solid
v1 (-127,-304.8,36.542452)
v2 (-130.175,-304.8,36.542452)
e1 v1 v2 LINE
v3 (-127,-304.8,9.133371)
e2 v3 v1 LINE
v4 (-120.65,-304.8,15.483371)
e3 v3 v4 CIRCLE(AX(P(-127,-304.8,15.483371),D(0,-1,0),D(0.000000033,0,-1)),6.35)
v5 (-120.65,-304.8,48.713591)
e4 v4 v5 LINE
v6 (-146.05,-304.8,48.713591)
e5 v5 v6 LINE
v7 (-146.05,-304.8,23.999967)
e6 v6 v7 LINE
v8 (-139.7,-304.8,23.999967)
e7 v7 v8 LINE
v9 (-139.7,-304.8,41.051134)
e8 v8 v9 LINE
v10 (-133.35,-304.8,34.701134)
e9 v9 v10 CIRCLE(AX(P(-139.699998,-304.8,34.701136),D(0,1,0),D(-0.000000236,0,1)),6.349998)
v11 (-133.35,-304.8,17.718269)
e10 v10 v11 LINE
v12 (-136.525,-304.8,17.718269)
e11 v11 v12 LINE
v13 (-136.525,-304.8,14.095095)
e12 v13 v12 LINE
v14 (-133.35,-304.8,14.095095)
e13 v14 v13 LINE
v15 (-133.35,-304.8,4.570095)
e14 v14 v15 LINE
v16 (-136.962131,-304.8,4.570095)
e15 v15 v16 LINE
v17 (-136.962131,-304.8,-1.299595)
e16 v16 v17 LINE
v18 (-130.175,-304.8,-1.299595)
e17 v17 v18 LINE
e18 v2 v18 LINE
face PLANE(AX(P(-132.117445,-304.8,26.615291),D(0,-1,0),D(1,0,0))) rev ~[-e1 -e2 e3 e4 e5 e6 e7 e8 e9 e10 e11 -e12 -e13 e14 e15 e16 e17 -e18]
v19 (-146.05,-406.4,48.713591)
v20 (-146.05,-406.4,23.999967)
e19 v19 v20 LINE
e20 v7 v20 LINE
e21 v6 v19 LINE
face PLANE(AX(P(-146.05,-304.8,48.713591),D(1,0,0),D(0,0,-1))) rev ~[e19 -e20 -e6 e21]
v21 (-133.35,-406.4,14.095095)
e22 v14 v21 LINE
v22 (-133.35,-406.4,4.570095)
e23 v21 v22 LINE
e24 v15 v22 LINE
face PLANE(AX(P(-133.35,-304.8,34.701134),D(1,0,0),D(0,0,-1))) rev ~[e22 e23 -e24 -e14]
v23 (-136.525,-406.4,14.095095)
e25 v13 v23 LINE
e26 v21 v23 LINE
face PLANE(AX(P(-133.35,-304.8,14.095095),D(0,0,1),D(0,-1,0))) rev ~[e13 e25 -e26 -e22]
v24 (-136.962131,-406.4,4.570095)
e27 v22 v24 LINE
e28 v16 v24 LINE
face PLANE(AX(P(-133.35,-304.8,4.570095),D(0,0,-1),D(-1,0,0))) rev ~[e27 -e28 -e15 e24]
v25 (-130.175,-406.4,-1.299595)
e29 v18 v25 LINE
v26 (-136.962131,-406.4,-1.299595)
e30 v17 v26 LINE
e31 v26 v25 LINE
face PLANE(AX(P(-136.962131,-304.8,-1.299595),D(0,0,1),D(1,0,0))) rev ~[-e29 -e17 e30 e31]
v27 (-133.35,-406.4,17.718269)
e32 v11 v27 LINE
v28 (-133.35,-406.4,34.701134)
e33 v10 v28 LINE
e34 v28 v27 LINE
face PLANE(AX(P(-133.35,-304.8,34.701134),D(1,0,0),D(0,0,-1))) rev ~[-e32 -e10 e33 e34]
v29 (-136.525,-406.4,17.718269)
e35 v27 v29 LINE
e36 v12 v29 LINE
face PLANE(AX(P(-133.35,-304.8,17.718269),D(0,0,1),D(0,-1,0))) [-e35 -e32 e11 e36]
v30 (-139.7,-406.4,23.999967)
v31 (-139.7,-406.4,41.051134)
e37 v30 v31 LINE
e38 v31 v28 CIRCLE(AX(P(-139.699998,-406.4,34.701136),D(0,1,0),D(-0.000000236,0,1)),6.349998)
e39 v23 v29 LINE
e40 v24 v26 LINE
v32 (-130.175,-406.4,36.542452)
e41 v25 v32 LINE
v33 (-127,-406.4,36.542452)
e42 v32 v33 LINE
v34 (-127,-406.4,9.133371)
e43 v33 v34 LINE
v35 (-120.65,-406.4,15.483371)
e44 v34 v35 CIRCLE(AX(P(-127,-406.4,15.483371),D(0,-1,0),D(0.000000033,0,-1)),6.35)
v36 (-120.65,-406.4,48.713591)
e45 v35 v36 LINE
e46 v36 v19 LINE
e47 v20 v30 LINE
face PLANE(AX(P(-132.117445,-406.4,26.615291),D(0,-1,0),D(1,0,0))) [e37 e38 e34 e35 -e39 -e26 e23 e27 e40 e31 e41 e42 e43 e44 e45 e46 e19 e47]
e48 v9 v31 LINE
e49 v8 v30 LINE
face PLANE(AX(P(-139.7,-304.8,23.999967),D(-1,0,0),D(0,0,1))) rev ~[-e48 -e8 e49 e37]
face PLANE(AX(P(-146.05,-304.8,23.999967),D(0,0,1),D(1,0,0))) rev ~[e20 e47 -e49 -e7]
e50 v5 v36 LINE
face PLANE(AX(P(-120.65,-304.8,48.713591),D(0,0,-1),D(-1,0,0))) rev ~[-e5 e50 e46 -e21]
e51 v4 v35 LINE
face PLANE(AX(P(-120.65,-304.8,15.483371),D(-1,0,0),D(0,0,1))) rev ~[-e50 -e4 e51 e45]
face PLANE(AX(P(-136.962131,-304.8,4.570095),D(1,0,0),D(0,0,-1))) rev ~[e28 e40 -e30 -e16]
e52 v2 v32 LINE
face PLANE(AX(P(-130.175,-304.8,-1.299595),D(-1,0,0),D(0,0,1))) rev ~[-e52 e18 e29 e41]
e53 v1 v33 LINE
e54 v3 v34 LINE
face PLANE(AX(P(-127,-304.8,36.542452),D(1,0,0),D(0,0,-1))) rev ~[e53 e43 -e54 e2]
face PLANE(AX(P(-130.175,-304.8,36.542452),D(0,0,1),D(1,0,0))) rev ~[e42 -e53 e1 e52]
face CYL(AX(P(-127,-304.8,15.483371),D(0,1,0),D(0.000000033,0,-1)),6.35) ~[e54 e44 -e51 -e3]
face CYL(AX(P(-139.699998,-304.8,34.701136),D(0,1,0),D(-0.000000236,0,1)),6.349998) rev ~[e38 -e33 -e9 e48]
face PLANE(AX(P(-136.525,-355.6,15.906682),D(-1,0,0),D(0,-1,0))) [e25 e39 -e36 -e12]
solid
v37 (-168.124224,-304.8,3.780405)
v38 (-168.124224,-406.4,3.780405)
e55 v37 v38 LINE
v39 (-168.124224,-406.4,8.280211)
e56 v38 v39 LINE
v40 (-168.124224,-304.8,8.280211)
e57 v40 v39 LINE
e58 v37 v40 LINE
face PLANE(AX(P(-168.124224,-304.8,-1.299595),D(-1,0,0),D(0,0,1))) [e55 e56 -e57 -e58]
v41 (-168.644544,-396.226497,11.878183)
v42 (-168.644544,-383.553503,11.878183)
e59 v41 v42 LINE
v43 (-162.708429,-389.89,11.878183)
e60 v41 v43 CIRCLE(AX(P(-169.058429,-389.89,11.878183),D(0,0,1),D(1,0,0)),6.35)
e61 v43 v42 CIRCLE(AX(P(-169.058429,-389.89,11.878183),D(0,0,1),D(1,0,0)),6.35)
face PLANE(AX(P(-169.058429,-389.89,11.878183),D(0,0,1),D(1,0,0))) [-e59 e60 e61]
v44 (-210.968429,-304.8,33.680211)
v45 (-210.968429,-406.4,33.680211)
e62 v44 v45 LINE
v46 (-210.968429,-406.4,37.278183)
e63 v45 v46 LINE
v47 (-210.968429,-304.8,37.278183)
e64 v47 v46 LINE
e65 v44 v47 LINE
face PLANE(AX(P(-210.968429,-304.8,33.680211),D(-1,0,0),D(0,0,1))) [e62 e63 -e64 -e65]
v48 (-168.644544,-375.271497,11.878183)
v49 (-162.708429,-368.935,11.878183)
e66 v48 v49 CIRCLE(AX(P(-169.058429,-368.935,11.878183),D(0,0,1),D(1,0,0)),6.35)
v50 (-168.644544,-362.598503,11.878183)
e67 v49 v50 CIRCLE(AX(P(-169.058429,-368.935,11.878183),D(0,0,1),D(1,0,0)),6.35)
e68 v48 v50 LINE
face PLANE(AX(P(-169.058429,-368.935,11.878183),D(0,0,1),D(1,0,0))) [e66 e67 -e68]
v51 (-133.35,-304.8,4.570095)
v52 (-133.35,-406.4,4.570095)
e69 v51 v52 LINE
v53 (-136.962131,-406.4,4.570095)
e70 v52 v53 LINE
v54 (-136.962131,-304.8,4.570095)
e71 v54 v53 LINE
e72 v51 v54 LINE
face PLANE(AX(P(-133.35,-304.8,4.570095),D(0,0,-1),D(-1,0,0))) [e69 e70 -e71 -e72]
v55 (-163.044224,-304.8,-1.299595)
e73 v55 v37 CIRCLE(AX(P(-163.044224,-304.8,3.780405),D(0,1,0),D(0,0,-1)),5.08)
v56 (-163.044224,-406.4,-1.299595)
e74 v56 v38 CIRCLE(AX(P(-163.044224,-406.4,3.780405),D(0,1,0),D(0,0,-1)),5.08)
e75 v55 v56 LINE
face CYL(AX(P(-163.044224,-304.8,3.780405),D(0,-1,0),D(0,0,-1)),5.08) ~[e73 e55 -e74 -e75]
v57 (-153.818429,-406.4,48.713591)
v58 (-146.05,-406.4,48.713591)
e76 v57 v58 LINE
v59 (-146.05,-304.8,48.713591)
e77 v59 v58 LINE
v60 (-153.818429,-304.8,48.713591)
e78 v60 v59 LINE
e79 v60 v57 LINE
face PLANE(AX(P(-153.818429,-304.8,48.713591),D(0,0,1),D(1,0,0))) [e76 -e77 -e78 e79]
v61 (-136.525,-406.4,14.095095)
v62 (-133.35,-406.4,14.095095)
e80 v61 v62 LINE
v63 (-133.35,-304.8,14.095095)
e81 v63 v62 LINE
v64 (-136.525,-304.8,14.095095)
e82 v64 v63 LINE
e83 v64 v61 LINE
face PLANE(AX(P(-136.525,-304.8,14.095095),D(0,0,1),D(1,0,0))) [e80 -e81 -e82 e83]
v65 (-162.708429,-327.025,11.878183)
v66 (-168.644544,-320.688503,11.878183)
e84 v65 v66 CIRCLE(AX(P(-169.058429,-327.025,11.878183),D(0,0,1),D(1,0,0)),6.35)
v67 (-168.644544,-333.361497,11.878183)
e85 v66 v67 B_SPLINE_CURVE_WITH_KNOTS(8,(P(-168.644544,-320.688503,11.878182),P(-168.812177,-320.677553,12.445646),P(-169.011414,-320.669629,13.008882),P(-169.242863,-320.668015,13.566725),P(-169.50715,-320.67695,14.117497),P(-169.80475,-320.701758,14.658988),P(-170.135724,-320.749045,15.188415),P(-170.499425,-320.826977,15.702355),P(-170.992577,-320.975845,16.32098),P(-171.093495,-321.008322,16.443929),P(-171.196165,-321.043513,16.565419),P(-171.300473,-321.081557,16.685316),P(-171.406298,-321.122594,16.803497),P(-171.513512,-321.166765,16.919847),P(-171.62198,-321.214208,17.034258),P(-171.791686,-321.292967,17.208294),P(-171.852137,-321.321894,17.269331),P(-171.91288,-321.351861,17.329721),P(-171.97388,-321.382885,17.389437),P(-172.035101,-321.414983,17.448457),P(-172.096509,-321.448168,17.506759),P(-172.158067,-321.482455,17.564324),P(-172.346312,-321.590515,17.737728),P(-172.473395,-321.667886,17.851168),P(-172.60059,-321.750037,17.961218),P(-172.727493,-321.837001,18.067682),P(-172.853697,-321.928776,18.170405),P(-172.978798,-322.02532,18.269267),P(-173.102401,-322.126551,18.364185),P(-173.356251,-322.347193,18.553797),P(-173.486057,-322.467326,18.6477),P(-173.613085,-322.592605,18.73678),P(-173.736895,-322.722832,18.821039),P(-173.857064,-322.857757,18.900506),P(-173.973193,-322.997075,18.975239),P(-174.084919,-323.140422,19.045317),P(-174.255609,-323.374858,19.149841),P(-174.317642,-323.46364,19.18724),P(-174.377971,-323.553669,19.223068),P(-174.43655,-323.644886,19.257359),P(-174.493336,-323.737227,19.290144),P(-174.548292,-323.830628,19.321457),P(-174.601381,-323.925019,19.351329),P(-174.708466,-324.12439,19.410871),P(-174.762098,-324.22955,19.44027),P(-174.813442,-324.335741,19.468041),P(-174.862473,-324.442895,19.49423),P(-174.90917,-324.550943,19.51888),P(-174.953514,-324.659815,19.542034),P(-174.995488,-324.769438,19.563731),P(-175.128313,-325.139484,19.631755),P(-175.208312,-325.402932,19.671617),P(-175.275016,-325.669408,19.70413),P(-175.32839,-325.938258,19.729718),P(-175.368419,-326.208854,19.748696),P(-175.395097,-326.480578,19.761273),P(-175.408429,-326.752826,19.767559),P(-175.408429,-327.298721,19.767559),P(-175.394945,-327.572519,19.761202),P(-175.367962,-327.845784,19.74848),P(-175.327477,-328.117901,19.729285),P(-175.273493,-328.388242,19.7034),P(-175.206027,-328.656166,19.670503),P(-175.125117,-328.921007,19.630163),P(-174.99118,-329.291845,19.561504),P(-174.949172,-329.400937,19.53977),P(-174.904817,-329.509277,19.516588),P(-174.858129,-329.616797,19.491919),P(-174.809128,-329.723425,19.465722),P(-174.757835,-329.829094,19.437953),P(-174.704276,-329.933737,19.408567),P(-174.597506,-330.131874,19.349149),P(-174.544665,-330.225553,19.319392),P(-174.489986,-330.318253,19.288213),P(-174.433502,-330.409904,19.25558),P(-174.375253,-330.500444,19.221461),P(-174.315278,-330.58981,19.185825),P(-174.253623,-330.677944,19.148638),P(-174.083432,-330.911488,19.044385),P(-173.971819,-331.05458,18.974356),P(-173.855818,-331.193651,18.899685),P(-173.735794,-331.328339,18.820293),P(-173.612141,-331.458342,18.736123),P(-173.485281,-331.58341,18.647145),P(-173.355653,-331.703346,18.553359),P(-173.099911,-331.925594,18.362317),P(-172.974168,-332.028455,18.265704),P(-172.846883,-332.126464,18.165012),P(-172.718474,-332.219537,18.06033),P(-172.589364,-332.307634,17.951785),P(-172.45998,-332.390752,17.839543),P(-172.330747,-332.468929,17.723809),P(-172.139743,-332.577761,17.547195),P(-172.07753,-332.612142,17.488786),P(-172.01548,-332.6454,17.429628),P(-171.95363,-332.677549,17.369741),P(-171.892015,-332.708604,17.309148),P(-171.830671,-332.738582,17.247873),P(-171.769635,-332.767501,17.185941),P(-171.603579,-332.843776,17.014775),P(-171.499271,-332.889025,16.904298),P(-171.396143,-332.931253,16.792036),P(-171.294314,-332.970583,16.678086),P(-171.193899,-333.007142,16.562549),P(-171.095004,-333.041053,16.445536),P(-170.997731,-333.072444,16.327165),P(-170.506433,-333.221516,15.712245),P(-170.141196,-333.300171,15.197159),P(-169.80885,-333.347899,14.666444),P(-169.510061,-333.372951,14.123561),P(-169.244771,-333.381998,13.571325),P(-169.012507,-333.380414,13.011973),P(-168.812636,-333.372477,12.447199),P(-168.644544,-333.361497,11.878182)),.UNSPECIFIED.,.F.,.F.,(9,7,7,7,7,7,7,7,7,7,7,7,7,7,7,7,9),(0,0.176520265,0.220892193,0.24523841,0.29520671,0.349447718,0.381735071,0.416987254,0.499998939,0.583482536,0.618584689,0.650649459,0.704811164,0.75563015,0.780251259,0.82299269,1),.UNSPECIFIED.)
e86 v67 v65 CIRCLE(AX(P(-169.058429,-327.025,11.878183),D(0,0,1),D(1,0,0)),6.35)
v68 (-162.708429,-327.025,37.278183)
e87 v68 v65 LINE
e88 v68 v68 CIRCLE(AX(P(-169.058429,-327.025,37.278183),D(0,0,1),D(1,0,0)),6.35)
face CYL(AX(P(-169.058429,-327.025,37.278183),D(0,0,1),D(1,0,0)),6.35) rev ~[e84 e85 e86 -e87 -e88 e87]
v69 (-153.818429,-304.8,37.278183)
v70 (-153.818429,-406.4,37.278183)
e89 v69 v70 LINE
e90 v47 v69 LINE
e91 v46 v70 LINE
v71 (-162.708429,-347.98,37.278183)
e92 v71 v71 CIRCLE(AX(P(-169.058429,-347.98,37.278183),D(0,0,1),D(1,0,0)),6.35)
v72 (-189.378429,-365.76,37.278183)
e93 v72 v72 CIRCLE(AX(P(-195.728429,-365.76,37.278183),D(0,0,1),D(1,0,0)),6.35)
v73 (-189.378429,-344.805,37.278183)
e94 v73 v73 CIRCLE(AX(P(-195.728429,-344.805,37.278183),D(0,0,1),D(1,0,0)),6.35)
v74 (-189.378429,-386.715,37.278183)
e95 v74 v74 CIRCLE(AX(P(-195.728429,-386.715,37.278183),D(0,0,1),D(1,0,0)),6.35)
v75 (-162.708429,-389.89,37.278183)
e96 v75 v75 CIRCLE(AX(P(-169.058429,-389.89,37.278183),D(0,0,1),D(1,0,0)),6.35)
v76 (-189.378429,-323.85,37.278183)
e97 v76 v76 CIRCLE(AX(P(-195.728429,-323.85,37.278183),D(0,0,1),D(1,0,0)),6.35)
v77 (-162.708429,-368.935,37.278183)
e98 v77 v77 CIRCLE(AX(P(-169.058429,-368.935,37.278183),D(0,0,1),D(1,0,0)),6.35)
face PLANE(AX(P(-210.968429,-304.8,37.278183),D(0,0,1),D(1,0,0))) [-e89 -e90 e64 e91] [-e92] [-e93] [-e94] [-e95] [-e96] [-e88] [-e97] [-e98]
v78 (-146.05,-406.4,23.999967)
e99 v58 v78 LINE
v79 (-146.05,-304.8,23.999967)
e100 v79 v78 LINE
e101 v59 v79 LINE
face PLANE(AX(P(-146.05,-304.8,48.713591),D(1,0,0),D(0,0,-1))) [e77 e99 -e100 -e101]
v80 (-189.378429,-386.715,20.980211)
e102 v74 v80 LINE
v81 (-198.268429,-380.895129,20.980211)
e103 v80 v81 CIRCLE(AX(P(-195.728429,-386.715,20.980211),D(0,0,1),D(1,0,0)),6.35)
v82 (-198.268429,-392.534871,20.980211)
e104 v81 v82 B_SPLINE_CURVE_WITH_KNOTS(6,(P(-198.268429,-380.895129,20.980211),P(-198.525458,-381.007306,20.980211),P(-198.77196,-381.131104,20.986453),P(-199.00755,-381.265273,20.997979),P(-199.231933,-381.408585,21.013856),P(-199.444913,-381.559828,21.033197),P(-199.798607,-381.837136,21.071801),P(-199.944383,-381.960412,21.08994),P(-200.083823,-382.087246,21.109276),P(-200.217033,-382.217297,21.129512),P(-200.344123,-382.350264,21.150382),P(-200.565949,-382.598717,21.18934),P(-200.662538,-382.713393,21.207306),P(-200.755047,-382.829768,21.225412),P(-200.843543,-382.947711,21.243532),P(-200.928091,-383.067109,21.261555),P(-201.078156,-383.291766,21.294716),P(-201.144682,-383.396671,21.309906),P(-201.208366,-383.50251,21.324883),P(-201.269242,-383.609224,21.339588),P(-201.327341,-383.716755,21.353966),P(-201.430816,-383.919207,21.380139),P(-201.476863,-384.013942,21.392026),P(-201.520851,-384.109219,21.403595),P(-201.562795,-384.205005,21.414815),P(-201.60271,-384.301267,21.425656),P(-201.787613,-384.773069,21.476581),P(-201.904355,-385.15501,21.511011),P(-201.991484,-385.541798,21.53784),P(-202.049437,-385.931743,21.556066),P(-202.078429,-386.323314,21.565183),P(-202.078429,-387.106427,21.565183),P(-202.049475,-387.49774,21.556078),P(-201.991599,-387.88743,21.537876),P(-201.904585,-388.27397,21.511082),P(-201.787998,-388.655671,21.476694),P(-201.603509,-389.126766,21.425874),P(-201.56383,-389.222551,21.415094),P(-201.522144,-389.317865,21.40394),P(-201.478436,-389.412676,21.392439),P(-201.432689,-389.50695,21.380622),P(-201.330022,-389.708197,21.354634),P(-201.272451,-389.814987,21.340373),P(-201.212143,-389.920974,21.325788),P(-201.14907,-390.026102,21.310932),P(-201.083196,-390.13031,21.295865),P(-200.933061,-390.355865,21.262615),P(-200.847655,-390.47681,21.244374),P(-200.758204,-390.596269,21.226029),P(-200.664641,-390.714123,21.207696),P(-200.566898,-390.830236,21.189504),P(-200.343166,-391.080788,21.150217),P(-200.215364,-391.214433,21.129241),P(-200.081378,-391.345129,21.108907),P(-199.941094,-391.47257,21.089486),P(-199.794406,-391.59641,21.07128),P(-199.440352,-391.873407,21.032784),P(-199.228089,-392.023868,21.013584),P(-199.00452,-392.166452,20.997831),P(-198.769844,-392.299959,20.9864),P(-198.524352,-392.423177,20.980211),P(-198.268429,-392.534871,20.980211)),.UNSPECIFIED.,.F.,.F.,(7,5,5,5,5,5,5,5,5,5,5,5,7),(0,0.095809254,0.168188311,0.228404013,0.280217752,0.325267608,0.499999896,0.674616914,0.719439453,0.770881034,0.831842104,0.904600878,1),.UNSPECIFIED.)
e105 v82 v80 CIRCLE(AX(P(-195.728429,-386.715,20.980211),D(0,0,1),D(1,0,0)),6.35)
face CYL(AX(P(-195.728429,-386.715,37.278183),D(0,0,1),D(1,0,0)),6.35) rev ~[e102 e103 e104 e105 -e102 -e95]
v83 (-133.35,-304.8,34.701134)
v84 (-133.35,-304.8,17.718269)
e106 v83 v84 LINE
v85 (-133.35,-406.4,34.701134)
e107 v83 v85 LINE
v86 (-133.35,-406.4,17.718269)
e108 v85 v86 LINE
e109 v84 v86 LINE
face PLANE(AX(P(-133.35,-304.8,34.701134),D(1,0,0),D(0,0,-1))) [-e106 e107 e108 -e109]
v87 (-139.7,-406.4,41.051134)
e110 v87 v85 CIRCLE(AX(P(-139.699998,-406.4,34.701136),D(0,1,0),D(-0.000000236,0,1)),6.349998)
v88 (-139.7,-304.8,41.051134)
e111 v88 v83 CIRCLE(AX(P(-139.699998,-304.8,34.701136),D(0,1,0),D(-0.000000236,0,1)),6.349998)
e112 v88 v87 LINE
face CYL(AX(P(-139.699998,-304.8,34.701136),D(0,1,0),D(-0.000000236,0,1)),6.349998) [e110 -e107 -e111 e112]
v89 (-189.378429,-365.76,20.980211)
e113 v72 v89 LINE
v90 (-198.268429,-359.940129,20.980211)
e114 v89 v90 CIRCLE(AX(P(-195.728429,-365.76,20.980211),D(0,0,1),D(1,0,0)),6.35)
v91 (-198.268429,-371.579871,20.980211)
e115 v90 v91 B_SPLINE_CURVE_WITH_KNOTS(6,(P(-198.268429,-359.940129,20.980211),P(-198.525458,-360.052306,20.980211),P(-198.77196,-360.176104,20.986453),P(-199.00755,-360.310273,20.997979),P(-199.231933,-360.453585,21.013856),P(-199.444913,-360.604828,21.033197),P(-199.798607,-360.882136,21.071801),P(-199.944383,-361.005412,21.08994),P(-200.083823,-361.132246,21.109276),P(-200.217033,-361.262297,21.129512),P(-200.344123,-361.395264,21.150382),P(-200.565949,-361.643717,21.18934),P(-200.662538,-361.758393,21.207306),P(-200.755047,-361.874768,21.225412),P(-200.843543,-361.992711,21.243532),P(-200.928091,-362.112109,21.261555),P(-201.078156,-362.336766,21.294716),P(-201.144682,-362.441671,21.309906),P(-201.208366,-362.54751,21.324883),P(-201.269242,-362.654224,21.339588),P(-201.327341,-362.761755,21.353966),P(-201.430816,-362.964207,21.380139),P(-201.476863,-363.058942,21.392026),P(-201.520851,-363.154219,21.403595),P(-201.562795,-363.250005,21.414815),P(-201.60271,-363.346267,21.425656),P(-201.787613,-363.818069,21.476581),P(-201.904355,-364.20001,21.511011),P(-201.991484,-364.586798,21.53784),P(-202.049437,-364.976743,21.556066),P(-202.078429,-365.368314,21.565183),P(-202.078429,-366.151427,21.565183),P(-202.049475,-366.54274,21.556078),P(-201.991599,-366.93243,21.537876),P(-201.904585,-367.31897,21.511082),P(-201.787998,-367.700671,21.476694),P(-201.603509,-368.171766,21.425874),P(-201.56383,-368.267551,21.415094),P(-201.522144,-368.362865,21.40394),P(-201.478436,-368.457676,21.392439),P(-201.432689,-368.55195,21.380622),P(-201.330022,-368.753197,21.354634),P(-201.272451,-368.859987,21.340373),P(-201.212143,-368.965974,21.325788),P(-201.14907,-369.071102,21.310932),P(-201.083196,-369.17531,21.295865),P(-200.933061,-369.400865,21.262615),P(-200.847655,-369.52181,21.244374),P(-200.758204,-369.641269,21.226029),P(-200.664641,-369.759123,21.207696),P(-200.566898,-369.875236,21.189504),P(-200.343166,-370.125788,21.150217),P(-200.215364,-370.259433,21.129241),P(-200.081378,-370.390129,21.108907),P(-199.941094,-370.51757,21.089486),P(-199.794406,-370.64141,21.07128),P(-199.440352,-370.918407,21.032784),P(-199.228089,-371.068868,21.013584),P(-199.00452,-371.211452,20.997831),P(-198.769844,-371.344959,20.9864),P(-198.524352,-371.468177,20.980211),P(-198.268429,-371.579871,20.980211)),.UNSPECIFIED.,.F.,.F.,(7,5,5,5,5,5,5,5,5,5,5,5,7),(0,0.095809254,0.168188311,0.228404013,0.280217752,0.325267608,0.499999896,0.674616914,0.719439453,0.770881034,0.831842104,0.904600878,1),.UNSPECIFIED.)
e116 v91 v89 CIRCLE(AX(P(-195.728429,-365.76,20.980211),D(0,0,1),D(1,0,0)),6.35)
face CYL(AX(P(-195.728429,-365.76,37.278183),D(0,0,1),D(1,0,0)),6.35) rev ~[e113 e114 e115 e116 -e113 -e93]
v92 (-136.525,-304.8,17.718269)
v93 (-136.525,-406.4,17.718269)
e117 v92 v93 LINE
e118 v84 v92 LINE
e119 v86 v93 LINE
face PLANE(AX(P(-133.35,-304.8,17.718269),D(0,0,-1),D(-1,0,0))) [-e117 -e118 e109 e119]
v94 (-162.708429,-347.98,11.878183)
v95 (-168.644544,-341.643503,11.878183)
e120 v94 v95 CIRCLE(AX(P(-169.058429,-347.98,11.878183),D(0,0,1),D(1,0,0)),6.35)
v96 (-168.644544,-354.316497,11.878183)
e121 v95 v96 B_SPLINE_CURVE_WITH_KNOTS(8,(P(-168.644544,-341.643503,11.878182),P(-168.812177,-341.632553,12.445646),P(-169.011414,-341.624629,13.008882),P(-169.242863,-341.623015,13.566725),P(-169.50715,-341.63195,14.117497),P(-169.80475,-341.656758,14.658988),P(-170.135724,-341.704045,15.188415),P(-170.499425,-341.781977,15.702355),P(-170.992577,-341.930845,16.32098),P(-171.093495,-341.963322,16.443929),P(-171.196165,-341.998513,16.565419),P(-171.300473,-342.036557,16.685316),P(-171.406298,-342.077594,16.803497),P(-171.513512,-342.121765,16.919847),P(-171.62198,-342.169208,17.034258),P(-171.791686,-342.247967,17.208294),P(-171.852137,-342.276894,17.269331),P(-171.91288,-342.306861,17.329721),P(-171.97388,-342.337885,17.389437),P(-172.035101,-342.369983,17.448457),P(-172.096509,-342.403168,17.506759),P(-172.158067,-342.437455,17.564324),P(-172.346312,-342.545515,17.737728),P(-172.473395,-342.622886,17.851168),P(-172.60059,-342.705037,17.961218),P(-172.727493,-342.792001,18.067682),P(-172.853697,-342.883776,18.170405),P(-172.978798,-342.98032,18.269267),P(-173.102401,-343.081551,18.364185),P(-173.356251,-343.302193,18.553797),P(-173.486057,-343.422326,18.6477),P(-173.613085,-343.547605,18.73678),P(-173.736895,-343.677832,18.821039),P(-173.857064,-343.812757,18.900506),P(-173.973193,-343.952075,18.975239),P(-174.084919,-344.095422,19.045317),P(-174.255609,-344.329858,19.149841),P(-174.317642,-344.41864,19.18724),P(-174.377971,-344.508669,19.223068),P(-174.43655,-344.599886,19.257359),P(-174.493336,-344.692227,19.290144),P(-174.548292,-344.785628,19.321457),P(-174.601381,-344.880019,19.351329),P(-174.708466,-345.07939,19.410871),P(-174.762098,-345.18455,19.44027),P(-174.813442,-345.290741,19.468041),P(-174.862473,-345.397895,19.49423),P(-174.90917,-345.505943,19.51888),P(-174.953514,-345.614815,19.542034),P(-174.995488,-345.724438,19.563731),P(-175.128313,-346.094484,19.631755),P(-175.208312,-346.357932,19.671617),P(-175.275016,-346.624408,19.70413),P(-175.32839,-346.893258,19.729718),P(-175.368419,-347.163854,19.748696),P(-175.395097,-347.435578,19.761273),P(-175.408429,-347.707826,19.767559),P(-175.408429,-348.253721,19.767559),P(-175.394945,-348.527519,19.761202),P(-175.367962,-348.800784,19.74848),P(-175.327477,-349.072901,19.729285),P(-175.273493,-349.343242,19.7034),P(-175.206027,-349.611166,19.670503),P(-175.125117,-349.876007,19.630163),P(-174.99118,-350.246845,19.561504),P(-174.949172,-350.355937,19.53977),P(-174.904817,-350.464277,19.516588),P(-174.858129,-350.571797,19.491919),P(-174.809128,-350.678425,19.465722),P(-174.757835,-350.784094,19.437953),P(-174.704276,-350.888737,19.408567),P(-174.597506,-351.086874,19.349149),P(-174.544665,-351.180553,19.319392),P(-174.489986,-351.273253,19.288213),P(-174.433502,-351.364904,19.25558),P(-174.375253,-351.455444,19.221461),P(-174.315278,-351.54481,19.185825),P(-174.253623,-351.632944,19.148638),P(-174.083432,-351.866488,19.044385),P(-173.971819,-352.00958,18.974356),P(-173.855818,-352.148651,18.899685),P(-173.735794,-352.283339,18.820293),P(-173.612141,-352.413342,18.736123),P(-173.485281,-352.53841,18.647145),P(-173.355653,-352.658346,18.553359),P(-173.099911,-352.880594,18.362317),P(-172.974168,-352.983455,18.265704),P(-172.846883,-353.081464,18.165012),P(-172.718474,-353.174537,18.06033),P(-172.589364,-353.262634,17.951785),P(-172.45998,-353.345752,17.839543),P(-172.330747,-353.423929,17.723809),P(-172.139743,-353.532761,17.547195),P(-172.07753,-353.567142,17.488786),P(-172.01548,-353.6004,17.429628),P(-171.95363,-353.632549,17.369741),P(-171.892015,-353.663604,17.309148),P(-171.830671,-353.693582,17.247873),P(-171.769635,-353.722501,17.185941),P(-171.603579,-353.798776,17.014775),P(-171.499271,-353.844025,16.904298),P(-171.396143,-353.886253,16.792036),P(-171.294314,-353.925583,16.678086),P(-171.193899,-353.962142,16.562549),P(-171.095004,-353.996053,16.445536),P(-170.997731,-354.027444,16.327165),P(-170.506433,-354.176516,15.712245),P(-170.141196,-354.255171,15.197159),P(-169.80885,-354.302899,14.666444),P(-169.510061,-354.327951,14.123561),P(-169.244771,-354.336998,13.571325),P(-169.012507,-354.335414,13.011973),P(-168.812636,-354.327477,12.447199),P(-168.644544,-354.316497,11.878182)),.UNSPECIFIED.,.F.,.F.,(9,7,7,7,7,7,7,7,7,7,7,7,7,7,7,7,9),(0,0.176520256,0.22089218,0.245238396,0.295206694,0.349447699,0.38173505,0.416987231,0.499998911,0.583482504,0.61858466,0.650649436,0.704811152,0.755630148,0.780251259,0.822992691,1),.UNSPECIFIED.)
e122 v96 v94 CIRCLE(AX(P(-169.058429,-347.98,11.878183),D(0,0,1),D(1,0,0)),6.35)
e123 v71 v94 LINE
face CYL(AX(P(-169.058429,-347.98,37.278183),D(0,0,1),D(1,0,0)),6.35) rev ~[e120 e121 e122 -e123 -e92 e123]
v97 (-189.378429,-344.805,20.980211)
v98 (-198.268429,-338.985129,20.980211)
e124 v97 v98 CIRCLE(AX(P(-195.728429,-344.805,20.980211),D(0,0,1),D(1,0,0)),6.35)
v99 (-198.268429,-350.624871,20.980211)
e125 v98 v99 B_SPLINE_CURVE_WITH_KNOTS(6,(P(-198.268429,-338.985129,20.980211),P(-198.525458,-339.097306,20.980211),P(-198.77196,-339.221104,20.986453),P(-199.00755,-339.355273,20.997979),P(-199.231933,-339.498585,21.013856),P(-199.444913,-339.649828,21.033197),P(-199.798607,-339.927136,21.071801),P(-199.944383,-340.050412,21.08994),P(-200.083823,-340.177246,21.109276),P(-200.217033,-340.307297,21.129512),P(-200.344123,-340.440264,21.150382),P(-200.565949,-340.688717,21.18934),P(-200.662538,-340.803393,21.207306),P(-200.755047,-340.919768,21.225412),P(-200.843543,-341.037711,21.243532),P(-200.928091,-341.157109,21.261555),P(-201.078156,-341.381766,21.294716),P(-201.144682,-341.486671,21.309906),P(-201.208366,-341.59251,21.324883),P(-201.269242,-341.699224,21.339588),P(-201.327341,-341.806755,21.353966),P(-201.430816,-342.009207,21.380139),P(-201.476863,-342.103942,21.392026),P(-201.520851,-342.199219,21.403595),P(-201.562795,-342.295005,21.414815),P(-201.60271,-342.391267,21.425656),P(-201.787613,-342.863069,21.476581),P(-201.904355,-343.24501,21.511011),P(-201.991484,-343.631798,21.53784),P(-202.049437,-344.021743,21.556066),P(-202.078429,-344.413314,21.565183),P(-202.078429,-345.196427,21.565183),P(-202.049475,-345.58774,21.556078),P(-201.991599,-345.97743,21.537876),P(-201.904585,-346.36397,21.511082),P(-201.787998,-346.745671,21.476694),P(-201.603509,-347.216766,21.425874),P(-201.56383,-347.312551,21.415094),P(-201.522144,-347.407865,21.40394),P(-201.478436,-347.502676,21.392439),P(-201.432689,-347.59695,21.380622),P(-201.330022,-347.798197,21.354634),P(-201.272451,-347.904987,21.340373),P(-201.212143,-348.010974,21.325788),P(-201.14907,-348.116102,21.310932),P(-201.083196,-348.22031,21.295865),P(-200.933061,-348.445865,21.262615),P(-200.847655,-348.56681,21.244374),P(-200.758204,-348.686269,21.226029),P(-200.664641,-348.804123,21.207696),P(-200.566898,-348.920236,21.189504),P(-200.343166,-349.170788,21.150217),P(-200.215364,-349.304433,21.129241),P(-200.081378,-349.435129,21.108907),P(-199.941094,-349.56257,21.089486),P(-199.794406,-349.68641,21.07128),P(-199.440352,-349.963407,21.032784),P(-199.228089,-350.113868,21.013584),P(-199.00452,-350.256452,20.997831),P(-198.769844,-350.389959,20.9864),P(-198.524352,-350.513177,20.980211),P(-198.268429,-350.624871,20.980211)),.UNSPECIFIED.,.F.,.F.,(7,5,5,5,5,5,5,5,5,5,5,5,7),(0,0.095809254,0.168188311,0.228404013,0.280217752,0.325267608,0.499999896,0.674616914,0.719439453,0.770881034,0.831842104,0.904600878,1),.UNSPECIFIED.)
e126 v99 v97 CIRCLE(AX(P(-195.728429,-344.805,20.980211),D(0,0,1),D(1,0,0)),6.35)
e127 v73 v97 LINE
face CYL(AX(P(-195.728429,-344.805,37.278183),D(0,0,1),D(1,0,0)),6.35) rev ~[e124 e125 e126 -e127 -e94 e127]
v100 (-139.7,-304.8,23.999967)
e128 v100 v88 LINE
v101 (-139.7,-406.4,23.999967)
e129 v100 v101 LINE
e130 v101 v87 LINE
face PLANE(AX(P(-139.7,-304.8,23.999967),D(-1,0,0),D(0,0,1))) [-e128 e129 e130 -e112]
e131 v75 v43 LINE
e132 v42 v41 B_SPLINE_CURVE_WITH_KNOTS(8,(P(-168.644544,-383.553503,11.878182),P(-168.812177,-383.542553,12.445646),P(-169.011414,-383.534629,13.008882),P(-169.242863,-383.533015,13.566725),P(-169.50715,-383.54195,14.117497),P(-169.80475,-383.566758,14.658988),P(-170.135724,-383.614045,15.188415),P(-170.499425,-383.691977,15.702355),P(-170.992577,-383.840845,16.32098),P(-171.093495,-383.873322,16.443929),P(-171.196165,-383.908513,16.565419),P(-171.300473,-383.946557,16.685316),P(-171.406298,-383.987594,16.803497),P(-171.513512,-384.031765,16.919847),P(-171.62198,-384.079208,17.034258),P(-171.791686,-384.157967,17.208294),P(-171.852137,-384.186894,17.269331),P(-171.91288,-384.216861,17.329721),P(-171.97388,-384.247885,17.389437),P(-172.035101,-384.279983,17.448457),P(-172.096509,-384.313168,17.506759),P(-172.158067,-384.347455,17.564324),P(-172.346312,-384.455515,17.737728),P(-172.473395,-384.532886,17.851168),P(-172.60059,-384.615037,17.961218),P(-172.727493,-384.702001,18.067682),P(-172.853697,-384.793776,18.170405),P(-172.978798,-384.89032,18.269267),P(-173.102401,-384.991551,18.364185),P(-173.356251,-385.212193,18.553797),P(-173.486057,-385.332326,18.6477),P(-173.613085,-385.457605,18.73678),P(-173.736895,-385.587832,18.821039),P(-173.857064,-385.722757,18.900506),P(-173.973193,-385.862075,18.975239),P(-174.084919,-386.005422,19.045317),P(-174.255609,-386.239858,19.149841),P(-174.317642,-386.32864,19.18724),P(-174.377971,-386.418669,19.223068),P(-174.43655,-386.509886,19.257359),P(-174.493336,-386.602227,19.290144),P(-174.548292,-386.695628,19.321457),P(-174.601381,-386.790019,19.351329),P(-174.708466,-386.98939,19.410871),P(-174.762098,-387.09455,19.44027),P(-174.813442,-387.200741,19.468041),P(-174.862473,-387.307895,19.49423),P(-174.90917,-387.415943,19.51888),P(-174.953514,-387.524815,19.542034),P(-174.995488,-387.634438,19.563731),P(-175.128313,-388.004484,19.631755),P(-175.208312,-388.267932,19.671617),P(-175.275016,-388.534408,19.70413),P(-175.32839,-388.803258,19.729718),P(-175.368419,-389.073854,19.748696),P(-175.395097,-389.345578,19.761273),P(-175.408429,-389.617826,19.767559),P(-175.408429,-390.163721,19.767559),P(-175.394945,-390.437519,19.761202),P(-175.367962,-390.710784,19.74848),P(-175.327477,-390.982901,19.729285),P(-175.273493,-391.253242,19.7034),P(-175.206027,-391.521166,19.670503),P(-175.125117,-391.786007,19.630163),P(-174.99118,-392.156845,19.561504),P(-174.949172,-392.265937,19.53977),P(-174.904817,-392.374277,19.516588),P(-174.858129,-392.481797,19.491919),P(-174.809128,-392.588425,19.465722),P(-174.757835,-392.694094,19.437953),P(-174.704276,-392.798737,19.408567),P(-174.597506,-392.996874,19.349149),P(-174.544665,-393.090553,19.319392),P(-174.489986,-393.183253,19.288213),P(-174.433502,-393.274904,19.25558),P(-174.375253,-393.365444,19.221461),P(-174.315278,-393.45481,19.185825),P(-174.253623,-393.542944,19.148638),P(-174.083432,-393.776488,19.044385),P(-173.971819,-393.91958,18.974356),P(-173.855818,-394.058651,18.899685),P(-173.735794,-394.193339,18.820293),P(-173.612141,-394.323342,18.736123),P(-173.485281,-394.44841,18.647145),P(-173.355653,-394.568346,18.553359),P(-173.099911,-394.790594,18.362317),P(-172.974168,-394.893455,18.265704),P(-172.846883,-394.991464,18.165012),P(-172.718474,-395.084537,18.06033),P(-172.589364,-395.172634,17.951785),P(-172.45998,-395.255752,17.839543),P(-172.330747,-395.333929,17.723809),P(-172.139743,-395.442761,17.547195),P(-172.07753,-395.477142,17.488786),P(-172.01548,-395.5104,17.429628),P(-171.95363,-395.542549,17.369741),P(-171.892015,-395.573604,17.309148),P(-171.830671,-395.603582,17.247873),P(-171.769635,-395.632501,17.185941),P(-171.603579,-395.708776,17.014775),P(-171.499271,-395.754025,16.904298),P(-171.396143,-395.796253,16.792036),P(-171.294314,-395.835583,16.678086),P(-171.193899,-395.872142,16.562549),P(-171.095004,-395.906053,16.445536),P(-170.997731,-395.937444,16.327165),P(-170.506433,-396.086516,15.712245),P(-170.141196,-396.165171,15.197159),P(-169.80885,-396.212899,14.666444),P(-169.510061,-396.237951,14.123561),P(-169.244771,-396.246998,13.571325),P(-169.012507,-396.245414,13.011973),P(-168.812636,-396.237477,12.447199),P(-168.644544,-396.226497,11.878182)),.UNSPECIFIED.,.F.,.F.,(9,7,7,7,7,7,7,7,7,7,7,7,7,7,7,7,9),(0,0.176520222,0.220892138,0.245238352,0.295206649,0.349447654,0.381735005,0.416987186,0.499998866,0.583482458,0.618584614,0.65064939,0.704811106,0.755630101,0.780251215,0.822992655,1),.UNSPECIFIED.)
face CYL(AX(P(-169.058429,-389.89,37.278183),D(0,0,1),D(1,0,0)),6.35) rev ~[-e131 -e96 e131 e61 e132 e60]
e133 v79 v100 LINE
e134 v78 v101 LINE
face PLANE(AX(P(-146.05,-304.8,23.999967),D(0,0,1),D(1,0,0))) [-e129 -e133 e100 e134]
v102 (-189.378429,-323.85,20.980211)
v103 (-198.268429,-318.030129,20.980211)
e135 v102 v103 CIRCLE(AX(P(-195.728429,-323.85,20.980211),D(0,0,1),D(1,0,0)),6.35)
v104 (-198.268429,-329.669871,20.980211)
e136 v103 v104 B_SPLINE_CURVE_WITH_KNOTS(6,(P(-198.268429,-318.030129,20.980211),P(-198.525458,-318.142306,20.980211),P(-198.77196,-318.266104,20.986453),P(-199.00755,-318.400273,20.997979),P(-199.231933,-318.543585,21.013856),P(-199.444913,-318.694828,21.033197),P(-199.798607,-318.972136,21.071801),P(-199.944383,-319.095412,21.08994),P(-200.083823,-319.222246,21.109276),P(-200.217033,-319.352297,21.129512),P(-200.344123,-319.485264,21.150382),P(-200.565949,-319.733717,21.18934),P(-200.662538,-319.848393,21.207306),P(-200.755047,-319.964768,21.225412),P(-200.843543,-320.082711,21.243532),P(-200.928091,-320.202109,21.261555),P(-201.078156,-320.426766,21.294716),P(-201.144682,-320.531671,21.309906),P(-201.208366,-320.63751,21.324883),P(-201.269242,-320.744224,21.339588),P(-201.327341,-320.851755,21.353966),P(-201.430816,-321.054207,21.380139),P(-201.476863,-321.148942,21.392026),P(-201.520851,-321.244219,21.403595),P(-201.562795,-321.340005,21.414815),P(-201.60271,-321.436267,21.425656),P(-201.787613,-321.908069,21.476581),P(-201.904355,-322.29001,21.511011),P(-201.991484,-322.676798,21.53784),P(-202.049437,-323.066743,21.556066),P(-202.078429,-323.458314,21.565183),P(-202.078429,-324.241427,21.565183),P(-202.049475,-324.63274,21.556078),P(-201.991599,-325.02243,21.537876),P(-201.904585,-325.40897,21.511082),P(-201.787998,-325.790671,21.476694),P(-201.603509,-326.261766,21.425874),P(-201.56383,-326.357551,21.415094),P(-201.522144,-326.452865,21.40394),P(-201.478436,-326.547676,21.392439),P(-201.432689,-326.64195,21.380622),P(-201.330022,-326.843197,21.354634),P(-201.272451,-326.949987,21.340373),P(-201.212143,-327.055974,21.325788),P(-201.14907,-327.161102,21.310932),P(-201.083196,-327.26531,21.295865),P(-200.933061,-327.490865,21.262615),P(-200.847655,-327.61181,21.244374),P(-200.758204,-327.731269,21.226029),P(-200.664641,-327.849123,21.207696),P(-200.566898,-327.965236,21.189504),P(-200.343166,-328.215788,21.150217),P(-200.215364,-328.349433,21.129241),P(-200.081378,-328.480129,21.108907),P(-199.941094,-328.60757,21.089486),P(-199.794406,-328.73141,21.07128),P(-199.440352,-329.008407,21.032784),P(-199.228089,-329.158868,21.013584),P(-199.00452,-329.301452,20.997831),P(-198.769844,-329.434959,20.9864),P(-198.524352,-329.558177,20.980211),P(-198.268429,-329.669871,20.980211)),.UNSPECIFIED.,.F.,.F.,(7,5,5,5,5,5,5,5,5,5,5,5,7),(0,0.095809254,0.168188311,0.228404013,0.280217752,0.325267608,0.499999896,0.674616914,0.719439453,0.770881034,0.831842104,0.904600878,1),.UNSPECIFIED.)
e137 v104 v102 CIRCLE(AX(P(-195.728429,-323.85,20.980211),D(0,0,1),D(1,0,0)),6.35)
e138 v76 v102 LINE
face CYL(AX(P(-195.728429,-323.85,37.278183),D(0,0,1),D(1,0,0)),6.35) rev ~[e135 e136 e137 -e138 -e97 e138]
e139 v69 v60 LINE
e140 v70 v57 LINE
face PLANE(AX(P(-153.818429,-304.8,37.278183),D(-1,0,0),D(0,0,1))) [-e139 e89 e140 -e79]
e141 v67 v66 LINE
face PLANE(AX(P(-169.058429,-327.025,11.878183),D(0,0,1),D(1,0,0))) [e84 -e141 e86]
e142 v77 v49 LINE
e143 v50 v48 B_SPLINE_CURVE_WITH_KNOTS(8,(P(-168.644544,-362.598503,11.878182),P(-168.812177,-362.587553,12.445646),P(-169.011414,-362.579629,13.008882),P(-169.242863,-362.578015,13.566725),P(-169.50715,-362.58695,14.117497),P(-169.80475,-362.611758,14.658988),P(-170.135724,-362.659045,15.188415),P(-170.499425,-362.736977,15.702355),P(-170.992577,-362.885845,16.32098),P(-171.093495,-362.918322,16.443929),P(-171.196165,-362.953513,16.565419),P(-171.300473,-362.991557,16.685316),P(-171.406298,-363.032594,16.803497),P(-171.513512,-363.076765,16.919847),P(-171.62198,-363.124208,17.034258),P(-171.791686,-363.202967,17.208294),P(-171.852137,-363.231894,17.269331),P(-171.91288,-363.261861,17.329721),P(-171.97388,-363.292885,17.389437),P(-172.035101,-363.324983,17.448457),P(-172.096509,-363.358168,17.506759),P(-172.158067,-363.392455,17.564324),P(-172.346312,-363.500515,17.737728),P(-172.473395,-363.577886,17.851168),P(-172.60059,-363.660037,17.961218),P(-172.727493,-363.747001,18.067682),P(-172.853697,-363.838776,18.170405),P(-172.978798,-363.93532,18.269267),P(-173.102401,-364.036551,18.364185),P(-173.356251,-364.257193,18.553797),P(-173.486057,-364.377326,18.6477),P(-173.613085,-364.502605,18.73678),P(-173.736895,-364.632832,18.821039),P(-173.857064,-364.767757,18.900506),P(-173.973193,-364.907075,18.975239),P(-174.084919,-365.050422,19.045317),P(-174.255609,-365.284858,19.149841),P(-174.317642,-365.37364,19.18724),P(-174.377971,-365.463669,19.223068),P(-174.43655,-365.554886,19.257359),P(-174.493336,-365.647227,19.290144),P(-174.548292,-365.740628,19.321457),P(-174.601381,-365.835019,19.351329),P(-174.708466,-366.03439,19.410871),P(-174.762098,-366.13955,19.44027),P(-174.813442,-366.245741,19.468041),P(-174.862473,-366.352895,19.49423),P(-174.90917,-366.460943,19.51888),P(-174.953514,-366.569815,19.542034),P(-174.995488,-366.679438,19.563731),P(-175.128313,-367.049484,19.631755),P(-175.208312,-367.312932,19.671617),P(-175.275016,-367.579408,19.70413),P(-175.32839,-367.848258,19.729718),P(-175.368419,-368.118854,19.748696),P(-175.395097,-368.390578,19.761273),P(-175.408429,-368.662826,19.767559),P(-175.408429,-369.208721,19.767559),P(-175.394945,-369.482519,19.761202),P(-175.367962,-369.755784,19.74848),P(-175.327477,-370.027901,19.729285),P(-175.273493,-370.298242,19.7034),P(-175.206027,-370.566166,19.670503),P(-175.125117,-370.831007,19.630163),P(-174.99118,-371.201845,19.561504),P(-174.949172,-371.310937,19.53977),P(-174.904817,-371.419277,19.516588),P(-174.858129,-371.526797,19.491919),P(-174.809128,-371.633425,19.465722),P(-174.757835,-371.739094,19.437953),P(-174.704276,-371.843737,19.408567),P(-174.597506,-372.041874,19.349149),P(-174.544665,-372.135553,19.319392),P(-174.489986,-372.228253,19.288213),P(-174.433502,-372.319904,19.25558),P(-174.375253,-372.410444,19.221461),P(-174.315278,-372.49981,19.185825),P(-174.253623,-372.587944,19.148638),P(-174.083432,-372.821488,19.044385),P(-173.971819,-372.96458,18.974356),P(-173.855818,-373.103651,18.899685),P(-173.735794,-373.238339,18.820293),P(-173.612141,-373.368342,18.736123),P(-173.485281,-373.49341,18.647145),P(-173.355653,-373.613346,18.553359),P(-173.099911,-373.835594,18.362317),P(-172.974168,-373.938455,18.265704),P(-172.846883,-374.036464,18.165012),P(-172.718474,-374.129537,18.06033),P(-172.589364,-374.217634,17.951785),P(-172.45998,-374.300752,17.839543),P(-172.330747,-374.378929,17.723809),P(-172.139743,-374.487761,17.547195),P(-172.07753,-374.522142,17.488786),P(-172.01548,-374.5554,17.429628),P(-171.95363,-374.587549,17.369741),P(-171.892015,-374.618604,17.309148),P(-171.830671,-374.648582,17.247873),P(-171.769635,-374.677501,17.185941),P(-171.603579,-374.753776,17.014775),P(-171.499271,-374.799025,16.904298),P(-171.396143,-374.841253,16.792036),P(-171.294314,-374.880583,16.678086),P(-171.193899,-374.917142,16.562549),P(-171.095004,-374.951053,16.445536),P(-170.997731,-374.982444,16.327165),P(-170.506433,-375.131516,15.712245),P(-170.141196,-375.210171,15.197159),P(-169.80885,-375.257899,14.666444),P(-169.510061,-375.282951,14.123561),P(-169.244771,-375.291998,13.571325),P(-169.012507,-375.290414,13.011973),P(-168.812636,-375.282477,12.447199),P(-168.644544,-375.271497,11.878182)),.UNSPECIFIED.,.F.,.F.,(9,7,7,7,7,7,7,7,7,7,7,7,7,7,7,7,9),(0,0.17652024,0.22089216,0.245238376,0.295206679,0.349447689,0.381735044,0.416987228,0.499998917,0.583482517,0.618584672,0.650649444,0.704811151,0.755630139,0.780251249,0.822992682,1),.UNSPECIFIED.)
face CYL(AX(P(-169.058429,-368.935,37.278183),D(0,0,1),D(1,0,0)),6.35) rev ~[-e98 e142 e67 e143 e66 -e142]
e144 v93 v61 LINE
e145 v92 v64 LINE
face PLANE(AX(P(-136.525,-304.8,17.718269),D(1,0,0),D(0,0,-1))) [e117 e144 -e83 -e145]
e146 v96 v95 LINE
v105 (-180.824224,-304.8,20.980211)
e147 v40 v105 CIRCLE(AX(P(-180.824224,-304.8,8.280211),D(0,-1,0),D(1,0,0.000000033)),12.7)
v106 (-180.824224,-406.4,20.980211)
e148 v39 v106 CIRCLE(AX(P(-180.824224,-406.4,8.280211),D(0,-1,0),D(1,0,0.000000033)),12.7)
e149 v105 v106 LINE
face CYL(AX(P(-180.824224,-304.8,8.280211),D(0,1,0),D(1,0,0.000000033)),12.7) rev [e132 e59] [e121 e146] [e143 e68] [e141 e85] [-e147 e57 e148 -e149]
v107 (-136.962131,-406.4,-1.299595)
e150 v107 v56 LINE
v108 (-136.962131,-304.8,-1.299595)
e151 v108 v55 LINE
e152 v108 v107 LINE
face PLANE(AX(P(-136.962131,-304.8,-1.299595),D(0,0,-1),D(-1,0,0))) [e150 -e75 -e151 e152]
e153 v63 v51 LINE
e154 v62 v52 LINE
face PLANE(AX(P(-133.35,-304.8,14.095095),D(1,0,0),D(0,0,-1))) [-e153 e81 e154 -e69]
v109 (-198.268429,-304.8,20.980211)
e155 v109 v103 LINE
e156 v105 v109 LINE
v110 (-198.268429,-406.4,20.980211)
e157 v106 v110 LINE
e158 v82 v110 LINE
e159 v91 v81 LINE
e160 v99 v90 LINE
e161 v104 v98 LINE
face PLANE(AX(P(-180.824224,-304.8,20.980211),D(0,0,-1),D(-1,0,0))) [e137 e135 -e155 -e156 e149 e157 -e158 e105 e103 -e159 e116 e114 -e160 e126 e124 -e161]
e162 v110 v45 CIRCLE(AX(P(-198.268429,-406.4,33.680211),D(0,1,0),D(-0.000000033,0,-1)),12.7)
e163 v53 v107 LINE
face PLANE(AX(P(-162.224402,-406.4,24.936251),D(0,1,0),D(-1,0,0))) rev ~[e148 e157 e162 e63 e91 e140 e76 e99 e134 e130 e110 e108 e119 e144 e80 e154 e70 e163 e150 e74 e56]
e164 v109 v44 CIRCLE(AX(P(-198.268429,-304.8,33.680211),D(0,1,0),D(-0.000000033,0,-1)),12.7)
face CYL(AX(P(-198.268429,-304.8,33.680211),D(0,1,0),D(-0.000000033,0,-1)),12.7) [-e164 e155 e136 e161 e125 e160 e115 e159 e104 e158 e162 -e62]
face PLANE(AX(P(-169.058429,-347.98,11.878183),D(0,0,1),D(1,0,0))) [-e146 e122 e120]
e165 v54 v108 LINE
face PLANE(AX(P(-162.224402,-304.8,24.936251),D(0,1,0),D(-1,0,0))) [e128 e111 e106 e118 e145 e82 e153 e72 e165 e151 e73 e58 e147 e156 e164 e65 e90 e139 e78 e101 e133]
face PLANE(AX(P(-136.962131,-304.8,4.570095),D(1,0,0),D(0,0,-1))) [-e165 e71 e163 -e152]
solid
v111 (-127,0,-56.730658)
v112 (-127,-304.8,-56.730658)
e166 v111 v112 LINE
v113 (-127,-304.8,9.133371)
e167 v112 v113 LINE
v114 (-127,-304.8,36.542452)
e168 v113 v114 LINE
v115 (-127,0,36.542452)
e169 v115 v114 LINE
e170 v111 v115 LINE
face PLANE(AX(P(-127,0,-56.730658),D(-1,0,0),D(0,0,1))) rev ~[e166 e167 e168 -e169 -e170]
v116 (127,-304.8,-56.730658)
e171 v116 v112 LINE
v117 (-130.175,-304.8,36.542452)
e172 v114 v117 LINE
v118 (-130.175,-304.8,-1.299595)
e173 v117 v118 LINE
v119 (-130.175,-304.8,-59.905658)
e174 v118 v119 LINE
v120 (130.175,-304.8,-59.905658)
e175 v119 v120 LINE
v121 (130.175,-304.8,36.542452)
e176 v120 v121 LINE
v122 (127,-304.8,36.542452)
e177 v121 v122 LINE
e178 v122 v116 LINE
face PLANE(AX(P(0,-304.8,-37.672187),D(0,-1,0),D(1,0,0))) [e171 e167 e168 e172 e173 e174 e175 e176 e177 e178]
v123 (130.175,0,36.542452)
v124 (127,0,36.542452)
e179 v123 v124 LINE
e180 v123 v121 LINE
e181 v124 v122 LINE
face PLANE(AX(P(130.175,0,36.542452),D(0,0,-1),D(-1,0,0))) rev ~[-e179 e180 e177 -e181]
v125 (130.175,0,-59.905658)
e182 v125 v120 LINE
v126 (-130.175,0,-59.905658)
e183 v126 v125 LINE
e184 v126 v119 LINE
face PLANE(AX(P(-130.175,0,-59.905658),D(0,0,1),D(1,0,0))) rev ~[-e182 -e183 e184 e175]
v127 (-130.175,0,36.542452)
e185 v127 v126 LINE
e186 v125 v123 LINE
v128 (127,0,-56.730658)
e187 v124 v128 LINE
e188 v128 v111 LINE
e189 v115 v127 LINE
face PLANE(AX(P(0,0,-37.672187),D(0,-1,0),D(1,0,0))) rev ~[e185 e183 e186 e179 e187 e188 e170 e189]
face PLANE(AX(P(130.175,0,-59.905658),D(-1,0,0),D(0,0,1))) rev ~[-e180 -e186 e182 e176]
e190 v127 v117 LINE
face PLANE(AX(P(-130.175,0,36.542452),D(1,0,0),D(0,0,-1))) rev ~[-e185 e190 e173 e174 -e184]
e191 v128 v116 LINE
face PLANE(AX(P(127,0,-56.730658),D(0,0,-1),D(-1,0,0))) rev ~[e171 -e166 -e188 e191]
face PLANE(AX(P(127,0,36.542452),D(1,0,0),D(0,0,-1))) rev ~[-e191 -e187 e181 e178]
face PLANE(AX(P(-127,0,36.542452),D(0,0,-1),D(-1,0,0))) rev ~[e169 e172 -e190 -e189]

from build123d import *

# Parameters (mm, degrees)
F1_DEPTH = 304.8
F3_DEPTH = 101.6
F4_W     = 101.6
F4_H     = 3.623174
F5_DEPTH = 3.175
F7_DEPTH = 101.6
F8_R     = 6.35
F9_DEPTH = 25.4
F10_R    = 5.08


with BuildPart() as f1:
    # F0 (on Front) → F1 (new body)
    with BuildSketch(Plane.XZ):
        Polygon((-127, 36.542452), (-130.175, 36.542452), (-130.175, -59.905658), (0, -59.905658), (130.175, -59.905658), (130.175, 36.542452), (127, 36.542452), (127, -56.730658), (0, -56.730658), (-127, -56.730658), align=None)
    extrude(amount=F1_DEPTH)

    # F2 (on face) → F3 (join)
    with BuildSketch(Plane.XZ.offset(304.8)):
        with BuildLine():
            ThreePointArc((-127, 9.133371), (-122.509872, 10.993243), (-120.65, 15.483371))
            Line((-120.65, 15.483371), (-120.65, 48.713591))
            Line((-120.65, 48.713591), (-146.05, 48.713591))
            Line((-146.05, 48.713591), (-146.05, 23.999967))
            Line((-146.05, 23.999967), (-139.7, 23.999967))
            Line((-139.7, 23.999967), (-139.7, 41.051134))
            ThreePointArc((-139.7, 41.051134), (-135.209872, 39.191263), (-133.35, 34.701134))
            Line((-133.35, 34.701134), (-133.35, 4.570095))
            Line((-133.35, 4.570095), (-136.962131, 4.570095))
            Line((-136.962131, 4.570095), (-136.962131, -1.299595))
            Line((-136.962131, -1.299595), (-130.175, -1.299595))
            Line((-130.175, -1.299595), (-130.175, 36.542452))
            Line((-130.175, 36.542452), (-127, 36.542452))
            Line((-127, 36.542452), (-127, 9.133371))
        make_face()
    extrude(amount=F3_DEPTH)

    # F4 (on face) → F5 (join)
    with BuildSketch(Plane(origin=(-133.35, 0, 0), x_dir=(0, -1, 0), z_dir=(-1, 0, 0))):
        with Locations((355.6, 15.906682)):
            Rectangle(F4_W, F4_H)
    extrude(amount=F5_DEPTH)


with BuildPart() as f7:
    # F6 (on face) → F7 (new body)
    with BuildSketch(Plane(origin=(0, -304.8, 0), x_dir=(-1, 0, 0), z_dir=(0, 1, 0))):
        with BuildLine():
            Line((146.05, 23.999967), (139.7, 23.999967))
            Line((139.7, 23.999967), (139.7, 41.051134))
            ThreePointArc((139.7, 41.051134), (135.209872, 39.191263), (133.35, 34.701134))
            Line((133.35, 34.701134), (133.35, 17.718269))
            Line((133.35, 17.718269), (136.525, 17.718269))
            Line((136.525, 17.718269), (136.525, 14.095095))
            Line((136.525, 14.095095), (133.35, 14.095095))
            Line((133.35, 14.095095), (133.35, 4.570095))
            Line((133.35, 4.570095), (136.962131, 4.570095))
            Line((136.962131, 4.570095), (136.962131, -1.299595))
            Line((136.962131, -1.299595), (168.124224, -1.299595))
            Line((168.124224, -1.299595), (168.124224, 8.280211))
            ThreePointArc((168.124224, 8.280211), (171.843968, 17.260467), (180.824224, 20.980211))
            Line((180.824224, 20.980211), (198.268429, 20.980211))
            ThreePointArc((198.268429, 20.980211), (207.248685, 24.699955), (210.968429, 33.680211))
            Line((210.968429, 33.680211), (210.968429, 37.278183))
            Line((210.968429, 37.278183), (153.818429, 37.278183))
            Line((153.818429, 37.278183), (153.818429, 48.713591))
            Line((153.818429, 48.713591), (146.05, 48.713591))
            Line((146.05, 48.713591), (146.05, 23.999967))
        make_face()
    extrude(amount=-F7_DEPTH)

    # F8 (on face) → F9 (cut)
    with BuildSketch(Plane.XY.offset(37.278183)):
        with Locations((-195.728429, -323.85)):
            Circle(F8_R)
        with Locations((-195.728429, -344.805)):
            Circle(F8_R)
        with Locations((-195.728429, -365.76)):
            Circle(F8_R)
        with Locations((-195.728429, -386.715)):
            Circle(F8_R)
        with Locations((-169.058429, -327.025)):
            Circle(F8_R)
        with Locations((-169.058429, -347.98)):
            Circle(F8_R)
        with Locations((-169.058429, -368.935)):
            Circle(F8_R)
        with Locations((-169.058429, -389.89)):
            Circle(F8_R)
    extrude(amount=-F9_DEPTH, mode=Mode.SUBTRACT)

    # F10
    f10_edges = [f7.edges().sort_by_distance(p)[0] for p in [
        (-168.124224, -355.6, -1.299595),
    ]]
    fillet(f10_edges, radius=F10_R)


solid = Compound([f1.part, f7.part])
